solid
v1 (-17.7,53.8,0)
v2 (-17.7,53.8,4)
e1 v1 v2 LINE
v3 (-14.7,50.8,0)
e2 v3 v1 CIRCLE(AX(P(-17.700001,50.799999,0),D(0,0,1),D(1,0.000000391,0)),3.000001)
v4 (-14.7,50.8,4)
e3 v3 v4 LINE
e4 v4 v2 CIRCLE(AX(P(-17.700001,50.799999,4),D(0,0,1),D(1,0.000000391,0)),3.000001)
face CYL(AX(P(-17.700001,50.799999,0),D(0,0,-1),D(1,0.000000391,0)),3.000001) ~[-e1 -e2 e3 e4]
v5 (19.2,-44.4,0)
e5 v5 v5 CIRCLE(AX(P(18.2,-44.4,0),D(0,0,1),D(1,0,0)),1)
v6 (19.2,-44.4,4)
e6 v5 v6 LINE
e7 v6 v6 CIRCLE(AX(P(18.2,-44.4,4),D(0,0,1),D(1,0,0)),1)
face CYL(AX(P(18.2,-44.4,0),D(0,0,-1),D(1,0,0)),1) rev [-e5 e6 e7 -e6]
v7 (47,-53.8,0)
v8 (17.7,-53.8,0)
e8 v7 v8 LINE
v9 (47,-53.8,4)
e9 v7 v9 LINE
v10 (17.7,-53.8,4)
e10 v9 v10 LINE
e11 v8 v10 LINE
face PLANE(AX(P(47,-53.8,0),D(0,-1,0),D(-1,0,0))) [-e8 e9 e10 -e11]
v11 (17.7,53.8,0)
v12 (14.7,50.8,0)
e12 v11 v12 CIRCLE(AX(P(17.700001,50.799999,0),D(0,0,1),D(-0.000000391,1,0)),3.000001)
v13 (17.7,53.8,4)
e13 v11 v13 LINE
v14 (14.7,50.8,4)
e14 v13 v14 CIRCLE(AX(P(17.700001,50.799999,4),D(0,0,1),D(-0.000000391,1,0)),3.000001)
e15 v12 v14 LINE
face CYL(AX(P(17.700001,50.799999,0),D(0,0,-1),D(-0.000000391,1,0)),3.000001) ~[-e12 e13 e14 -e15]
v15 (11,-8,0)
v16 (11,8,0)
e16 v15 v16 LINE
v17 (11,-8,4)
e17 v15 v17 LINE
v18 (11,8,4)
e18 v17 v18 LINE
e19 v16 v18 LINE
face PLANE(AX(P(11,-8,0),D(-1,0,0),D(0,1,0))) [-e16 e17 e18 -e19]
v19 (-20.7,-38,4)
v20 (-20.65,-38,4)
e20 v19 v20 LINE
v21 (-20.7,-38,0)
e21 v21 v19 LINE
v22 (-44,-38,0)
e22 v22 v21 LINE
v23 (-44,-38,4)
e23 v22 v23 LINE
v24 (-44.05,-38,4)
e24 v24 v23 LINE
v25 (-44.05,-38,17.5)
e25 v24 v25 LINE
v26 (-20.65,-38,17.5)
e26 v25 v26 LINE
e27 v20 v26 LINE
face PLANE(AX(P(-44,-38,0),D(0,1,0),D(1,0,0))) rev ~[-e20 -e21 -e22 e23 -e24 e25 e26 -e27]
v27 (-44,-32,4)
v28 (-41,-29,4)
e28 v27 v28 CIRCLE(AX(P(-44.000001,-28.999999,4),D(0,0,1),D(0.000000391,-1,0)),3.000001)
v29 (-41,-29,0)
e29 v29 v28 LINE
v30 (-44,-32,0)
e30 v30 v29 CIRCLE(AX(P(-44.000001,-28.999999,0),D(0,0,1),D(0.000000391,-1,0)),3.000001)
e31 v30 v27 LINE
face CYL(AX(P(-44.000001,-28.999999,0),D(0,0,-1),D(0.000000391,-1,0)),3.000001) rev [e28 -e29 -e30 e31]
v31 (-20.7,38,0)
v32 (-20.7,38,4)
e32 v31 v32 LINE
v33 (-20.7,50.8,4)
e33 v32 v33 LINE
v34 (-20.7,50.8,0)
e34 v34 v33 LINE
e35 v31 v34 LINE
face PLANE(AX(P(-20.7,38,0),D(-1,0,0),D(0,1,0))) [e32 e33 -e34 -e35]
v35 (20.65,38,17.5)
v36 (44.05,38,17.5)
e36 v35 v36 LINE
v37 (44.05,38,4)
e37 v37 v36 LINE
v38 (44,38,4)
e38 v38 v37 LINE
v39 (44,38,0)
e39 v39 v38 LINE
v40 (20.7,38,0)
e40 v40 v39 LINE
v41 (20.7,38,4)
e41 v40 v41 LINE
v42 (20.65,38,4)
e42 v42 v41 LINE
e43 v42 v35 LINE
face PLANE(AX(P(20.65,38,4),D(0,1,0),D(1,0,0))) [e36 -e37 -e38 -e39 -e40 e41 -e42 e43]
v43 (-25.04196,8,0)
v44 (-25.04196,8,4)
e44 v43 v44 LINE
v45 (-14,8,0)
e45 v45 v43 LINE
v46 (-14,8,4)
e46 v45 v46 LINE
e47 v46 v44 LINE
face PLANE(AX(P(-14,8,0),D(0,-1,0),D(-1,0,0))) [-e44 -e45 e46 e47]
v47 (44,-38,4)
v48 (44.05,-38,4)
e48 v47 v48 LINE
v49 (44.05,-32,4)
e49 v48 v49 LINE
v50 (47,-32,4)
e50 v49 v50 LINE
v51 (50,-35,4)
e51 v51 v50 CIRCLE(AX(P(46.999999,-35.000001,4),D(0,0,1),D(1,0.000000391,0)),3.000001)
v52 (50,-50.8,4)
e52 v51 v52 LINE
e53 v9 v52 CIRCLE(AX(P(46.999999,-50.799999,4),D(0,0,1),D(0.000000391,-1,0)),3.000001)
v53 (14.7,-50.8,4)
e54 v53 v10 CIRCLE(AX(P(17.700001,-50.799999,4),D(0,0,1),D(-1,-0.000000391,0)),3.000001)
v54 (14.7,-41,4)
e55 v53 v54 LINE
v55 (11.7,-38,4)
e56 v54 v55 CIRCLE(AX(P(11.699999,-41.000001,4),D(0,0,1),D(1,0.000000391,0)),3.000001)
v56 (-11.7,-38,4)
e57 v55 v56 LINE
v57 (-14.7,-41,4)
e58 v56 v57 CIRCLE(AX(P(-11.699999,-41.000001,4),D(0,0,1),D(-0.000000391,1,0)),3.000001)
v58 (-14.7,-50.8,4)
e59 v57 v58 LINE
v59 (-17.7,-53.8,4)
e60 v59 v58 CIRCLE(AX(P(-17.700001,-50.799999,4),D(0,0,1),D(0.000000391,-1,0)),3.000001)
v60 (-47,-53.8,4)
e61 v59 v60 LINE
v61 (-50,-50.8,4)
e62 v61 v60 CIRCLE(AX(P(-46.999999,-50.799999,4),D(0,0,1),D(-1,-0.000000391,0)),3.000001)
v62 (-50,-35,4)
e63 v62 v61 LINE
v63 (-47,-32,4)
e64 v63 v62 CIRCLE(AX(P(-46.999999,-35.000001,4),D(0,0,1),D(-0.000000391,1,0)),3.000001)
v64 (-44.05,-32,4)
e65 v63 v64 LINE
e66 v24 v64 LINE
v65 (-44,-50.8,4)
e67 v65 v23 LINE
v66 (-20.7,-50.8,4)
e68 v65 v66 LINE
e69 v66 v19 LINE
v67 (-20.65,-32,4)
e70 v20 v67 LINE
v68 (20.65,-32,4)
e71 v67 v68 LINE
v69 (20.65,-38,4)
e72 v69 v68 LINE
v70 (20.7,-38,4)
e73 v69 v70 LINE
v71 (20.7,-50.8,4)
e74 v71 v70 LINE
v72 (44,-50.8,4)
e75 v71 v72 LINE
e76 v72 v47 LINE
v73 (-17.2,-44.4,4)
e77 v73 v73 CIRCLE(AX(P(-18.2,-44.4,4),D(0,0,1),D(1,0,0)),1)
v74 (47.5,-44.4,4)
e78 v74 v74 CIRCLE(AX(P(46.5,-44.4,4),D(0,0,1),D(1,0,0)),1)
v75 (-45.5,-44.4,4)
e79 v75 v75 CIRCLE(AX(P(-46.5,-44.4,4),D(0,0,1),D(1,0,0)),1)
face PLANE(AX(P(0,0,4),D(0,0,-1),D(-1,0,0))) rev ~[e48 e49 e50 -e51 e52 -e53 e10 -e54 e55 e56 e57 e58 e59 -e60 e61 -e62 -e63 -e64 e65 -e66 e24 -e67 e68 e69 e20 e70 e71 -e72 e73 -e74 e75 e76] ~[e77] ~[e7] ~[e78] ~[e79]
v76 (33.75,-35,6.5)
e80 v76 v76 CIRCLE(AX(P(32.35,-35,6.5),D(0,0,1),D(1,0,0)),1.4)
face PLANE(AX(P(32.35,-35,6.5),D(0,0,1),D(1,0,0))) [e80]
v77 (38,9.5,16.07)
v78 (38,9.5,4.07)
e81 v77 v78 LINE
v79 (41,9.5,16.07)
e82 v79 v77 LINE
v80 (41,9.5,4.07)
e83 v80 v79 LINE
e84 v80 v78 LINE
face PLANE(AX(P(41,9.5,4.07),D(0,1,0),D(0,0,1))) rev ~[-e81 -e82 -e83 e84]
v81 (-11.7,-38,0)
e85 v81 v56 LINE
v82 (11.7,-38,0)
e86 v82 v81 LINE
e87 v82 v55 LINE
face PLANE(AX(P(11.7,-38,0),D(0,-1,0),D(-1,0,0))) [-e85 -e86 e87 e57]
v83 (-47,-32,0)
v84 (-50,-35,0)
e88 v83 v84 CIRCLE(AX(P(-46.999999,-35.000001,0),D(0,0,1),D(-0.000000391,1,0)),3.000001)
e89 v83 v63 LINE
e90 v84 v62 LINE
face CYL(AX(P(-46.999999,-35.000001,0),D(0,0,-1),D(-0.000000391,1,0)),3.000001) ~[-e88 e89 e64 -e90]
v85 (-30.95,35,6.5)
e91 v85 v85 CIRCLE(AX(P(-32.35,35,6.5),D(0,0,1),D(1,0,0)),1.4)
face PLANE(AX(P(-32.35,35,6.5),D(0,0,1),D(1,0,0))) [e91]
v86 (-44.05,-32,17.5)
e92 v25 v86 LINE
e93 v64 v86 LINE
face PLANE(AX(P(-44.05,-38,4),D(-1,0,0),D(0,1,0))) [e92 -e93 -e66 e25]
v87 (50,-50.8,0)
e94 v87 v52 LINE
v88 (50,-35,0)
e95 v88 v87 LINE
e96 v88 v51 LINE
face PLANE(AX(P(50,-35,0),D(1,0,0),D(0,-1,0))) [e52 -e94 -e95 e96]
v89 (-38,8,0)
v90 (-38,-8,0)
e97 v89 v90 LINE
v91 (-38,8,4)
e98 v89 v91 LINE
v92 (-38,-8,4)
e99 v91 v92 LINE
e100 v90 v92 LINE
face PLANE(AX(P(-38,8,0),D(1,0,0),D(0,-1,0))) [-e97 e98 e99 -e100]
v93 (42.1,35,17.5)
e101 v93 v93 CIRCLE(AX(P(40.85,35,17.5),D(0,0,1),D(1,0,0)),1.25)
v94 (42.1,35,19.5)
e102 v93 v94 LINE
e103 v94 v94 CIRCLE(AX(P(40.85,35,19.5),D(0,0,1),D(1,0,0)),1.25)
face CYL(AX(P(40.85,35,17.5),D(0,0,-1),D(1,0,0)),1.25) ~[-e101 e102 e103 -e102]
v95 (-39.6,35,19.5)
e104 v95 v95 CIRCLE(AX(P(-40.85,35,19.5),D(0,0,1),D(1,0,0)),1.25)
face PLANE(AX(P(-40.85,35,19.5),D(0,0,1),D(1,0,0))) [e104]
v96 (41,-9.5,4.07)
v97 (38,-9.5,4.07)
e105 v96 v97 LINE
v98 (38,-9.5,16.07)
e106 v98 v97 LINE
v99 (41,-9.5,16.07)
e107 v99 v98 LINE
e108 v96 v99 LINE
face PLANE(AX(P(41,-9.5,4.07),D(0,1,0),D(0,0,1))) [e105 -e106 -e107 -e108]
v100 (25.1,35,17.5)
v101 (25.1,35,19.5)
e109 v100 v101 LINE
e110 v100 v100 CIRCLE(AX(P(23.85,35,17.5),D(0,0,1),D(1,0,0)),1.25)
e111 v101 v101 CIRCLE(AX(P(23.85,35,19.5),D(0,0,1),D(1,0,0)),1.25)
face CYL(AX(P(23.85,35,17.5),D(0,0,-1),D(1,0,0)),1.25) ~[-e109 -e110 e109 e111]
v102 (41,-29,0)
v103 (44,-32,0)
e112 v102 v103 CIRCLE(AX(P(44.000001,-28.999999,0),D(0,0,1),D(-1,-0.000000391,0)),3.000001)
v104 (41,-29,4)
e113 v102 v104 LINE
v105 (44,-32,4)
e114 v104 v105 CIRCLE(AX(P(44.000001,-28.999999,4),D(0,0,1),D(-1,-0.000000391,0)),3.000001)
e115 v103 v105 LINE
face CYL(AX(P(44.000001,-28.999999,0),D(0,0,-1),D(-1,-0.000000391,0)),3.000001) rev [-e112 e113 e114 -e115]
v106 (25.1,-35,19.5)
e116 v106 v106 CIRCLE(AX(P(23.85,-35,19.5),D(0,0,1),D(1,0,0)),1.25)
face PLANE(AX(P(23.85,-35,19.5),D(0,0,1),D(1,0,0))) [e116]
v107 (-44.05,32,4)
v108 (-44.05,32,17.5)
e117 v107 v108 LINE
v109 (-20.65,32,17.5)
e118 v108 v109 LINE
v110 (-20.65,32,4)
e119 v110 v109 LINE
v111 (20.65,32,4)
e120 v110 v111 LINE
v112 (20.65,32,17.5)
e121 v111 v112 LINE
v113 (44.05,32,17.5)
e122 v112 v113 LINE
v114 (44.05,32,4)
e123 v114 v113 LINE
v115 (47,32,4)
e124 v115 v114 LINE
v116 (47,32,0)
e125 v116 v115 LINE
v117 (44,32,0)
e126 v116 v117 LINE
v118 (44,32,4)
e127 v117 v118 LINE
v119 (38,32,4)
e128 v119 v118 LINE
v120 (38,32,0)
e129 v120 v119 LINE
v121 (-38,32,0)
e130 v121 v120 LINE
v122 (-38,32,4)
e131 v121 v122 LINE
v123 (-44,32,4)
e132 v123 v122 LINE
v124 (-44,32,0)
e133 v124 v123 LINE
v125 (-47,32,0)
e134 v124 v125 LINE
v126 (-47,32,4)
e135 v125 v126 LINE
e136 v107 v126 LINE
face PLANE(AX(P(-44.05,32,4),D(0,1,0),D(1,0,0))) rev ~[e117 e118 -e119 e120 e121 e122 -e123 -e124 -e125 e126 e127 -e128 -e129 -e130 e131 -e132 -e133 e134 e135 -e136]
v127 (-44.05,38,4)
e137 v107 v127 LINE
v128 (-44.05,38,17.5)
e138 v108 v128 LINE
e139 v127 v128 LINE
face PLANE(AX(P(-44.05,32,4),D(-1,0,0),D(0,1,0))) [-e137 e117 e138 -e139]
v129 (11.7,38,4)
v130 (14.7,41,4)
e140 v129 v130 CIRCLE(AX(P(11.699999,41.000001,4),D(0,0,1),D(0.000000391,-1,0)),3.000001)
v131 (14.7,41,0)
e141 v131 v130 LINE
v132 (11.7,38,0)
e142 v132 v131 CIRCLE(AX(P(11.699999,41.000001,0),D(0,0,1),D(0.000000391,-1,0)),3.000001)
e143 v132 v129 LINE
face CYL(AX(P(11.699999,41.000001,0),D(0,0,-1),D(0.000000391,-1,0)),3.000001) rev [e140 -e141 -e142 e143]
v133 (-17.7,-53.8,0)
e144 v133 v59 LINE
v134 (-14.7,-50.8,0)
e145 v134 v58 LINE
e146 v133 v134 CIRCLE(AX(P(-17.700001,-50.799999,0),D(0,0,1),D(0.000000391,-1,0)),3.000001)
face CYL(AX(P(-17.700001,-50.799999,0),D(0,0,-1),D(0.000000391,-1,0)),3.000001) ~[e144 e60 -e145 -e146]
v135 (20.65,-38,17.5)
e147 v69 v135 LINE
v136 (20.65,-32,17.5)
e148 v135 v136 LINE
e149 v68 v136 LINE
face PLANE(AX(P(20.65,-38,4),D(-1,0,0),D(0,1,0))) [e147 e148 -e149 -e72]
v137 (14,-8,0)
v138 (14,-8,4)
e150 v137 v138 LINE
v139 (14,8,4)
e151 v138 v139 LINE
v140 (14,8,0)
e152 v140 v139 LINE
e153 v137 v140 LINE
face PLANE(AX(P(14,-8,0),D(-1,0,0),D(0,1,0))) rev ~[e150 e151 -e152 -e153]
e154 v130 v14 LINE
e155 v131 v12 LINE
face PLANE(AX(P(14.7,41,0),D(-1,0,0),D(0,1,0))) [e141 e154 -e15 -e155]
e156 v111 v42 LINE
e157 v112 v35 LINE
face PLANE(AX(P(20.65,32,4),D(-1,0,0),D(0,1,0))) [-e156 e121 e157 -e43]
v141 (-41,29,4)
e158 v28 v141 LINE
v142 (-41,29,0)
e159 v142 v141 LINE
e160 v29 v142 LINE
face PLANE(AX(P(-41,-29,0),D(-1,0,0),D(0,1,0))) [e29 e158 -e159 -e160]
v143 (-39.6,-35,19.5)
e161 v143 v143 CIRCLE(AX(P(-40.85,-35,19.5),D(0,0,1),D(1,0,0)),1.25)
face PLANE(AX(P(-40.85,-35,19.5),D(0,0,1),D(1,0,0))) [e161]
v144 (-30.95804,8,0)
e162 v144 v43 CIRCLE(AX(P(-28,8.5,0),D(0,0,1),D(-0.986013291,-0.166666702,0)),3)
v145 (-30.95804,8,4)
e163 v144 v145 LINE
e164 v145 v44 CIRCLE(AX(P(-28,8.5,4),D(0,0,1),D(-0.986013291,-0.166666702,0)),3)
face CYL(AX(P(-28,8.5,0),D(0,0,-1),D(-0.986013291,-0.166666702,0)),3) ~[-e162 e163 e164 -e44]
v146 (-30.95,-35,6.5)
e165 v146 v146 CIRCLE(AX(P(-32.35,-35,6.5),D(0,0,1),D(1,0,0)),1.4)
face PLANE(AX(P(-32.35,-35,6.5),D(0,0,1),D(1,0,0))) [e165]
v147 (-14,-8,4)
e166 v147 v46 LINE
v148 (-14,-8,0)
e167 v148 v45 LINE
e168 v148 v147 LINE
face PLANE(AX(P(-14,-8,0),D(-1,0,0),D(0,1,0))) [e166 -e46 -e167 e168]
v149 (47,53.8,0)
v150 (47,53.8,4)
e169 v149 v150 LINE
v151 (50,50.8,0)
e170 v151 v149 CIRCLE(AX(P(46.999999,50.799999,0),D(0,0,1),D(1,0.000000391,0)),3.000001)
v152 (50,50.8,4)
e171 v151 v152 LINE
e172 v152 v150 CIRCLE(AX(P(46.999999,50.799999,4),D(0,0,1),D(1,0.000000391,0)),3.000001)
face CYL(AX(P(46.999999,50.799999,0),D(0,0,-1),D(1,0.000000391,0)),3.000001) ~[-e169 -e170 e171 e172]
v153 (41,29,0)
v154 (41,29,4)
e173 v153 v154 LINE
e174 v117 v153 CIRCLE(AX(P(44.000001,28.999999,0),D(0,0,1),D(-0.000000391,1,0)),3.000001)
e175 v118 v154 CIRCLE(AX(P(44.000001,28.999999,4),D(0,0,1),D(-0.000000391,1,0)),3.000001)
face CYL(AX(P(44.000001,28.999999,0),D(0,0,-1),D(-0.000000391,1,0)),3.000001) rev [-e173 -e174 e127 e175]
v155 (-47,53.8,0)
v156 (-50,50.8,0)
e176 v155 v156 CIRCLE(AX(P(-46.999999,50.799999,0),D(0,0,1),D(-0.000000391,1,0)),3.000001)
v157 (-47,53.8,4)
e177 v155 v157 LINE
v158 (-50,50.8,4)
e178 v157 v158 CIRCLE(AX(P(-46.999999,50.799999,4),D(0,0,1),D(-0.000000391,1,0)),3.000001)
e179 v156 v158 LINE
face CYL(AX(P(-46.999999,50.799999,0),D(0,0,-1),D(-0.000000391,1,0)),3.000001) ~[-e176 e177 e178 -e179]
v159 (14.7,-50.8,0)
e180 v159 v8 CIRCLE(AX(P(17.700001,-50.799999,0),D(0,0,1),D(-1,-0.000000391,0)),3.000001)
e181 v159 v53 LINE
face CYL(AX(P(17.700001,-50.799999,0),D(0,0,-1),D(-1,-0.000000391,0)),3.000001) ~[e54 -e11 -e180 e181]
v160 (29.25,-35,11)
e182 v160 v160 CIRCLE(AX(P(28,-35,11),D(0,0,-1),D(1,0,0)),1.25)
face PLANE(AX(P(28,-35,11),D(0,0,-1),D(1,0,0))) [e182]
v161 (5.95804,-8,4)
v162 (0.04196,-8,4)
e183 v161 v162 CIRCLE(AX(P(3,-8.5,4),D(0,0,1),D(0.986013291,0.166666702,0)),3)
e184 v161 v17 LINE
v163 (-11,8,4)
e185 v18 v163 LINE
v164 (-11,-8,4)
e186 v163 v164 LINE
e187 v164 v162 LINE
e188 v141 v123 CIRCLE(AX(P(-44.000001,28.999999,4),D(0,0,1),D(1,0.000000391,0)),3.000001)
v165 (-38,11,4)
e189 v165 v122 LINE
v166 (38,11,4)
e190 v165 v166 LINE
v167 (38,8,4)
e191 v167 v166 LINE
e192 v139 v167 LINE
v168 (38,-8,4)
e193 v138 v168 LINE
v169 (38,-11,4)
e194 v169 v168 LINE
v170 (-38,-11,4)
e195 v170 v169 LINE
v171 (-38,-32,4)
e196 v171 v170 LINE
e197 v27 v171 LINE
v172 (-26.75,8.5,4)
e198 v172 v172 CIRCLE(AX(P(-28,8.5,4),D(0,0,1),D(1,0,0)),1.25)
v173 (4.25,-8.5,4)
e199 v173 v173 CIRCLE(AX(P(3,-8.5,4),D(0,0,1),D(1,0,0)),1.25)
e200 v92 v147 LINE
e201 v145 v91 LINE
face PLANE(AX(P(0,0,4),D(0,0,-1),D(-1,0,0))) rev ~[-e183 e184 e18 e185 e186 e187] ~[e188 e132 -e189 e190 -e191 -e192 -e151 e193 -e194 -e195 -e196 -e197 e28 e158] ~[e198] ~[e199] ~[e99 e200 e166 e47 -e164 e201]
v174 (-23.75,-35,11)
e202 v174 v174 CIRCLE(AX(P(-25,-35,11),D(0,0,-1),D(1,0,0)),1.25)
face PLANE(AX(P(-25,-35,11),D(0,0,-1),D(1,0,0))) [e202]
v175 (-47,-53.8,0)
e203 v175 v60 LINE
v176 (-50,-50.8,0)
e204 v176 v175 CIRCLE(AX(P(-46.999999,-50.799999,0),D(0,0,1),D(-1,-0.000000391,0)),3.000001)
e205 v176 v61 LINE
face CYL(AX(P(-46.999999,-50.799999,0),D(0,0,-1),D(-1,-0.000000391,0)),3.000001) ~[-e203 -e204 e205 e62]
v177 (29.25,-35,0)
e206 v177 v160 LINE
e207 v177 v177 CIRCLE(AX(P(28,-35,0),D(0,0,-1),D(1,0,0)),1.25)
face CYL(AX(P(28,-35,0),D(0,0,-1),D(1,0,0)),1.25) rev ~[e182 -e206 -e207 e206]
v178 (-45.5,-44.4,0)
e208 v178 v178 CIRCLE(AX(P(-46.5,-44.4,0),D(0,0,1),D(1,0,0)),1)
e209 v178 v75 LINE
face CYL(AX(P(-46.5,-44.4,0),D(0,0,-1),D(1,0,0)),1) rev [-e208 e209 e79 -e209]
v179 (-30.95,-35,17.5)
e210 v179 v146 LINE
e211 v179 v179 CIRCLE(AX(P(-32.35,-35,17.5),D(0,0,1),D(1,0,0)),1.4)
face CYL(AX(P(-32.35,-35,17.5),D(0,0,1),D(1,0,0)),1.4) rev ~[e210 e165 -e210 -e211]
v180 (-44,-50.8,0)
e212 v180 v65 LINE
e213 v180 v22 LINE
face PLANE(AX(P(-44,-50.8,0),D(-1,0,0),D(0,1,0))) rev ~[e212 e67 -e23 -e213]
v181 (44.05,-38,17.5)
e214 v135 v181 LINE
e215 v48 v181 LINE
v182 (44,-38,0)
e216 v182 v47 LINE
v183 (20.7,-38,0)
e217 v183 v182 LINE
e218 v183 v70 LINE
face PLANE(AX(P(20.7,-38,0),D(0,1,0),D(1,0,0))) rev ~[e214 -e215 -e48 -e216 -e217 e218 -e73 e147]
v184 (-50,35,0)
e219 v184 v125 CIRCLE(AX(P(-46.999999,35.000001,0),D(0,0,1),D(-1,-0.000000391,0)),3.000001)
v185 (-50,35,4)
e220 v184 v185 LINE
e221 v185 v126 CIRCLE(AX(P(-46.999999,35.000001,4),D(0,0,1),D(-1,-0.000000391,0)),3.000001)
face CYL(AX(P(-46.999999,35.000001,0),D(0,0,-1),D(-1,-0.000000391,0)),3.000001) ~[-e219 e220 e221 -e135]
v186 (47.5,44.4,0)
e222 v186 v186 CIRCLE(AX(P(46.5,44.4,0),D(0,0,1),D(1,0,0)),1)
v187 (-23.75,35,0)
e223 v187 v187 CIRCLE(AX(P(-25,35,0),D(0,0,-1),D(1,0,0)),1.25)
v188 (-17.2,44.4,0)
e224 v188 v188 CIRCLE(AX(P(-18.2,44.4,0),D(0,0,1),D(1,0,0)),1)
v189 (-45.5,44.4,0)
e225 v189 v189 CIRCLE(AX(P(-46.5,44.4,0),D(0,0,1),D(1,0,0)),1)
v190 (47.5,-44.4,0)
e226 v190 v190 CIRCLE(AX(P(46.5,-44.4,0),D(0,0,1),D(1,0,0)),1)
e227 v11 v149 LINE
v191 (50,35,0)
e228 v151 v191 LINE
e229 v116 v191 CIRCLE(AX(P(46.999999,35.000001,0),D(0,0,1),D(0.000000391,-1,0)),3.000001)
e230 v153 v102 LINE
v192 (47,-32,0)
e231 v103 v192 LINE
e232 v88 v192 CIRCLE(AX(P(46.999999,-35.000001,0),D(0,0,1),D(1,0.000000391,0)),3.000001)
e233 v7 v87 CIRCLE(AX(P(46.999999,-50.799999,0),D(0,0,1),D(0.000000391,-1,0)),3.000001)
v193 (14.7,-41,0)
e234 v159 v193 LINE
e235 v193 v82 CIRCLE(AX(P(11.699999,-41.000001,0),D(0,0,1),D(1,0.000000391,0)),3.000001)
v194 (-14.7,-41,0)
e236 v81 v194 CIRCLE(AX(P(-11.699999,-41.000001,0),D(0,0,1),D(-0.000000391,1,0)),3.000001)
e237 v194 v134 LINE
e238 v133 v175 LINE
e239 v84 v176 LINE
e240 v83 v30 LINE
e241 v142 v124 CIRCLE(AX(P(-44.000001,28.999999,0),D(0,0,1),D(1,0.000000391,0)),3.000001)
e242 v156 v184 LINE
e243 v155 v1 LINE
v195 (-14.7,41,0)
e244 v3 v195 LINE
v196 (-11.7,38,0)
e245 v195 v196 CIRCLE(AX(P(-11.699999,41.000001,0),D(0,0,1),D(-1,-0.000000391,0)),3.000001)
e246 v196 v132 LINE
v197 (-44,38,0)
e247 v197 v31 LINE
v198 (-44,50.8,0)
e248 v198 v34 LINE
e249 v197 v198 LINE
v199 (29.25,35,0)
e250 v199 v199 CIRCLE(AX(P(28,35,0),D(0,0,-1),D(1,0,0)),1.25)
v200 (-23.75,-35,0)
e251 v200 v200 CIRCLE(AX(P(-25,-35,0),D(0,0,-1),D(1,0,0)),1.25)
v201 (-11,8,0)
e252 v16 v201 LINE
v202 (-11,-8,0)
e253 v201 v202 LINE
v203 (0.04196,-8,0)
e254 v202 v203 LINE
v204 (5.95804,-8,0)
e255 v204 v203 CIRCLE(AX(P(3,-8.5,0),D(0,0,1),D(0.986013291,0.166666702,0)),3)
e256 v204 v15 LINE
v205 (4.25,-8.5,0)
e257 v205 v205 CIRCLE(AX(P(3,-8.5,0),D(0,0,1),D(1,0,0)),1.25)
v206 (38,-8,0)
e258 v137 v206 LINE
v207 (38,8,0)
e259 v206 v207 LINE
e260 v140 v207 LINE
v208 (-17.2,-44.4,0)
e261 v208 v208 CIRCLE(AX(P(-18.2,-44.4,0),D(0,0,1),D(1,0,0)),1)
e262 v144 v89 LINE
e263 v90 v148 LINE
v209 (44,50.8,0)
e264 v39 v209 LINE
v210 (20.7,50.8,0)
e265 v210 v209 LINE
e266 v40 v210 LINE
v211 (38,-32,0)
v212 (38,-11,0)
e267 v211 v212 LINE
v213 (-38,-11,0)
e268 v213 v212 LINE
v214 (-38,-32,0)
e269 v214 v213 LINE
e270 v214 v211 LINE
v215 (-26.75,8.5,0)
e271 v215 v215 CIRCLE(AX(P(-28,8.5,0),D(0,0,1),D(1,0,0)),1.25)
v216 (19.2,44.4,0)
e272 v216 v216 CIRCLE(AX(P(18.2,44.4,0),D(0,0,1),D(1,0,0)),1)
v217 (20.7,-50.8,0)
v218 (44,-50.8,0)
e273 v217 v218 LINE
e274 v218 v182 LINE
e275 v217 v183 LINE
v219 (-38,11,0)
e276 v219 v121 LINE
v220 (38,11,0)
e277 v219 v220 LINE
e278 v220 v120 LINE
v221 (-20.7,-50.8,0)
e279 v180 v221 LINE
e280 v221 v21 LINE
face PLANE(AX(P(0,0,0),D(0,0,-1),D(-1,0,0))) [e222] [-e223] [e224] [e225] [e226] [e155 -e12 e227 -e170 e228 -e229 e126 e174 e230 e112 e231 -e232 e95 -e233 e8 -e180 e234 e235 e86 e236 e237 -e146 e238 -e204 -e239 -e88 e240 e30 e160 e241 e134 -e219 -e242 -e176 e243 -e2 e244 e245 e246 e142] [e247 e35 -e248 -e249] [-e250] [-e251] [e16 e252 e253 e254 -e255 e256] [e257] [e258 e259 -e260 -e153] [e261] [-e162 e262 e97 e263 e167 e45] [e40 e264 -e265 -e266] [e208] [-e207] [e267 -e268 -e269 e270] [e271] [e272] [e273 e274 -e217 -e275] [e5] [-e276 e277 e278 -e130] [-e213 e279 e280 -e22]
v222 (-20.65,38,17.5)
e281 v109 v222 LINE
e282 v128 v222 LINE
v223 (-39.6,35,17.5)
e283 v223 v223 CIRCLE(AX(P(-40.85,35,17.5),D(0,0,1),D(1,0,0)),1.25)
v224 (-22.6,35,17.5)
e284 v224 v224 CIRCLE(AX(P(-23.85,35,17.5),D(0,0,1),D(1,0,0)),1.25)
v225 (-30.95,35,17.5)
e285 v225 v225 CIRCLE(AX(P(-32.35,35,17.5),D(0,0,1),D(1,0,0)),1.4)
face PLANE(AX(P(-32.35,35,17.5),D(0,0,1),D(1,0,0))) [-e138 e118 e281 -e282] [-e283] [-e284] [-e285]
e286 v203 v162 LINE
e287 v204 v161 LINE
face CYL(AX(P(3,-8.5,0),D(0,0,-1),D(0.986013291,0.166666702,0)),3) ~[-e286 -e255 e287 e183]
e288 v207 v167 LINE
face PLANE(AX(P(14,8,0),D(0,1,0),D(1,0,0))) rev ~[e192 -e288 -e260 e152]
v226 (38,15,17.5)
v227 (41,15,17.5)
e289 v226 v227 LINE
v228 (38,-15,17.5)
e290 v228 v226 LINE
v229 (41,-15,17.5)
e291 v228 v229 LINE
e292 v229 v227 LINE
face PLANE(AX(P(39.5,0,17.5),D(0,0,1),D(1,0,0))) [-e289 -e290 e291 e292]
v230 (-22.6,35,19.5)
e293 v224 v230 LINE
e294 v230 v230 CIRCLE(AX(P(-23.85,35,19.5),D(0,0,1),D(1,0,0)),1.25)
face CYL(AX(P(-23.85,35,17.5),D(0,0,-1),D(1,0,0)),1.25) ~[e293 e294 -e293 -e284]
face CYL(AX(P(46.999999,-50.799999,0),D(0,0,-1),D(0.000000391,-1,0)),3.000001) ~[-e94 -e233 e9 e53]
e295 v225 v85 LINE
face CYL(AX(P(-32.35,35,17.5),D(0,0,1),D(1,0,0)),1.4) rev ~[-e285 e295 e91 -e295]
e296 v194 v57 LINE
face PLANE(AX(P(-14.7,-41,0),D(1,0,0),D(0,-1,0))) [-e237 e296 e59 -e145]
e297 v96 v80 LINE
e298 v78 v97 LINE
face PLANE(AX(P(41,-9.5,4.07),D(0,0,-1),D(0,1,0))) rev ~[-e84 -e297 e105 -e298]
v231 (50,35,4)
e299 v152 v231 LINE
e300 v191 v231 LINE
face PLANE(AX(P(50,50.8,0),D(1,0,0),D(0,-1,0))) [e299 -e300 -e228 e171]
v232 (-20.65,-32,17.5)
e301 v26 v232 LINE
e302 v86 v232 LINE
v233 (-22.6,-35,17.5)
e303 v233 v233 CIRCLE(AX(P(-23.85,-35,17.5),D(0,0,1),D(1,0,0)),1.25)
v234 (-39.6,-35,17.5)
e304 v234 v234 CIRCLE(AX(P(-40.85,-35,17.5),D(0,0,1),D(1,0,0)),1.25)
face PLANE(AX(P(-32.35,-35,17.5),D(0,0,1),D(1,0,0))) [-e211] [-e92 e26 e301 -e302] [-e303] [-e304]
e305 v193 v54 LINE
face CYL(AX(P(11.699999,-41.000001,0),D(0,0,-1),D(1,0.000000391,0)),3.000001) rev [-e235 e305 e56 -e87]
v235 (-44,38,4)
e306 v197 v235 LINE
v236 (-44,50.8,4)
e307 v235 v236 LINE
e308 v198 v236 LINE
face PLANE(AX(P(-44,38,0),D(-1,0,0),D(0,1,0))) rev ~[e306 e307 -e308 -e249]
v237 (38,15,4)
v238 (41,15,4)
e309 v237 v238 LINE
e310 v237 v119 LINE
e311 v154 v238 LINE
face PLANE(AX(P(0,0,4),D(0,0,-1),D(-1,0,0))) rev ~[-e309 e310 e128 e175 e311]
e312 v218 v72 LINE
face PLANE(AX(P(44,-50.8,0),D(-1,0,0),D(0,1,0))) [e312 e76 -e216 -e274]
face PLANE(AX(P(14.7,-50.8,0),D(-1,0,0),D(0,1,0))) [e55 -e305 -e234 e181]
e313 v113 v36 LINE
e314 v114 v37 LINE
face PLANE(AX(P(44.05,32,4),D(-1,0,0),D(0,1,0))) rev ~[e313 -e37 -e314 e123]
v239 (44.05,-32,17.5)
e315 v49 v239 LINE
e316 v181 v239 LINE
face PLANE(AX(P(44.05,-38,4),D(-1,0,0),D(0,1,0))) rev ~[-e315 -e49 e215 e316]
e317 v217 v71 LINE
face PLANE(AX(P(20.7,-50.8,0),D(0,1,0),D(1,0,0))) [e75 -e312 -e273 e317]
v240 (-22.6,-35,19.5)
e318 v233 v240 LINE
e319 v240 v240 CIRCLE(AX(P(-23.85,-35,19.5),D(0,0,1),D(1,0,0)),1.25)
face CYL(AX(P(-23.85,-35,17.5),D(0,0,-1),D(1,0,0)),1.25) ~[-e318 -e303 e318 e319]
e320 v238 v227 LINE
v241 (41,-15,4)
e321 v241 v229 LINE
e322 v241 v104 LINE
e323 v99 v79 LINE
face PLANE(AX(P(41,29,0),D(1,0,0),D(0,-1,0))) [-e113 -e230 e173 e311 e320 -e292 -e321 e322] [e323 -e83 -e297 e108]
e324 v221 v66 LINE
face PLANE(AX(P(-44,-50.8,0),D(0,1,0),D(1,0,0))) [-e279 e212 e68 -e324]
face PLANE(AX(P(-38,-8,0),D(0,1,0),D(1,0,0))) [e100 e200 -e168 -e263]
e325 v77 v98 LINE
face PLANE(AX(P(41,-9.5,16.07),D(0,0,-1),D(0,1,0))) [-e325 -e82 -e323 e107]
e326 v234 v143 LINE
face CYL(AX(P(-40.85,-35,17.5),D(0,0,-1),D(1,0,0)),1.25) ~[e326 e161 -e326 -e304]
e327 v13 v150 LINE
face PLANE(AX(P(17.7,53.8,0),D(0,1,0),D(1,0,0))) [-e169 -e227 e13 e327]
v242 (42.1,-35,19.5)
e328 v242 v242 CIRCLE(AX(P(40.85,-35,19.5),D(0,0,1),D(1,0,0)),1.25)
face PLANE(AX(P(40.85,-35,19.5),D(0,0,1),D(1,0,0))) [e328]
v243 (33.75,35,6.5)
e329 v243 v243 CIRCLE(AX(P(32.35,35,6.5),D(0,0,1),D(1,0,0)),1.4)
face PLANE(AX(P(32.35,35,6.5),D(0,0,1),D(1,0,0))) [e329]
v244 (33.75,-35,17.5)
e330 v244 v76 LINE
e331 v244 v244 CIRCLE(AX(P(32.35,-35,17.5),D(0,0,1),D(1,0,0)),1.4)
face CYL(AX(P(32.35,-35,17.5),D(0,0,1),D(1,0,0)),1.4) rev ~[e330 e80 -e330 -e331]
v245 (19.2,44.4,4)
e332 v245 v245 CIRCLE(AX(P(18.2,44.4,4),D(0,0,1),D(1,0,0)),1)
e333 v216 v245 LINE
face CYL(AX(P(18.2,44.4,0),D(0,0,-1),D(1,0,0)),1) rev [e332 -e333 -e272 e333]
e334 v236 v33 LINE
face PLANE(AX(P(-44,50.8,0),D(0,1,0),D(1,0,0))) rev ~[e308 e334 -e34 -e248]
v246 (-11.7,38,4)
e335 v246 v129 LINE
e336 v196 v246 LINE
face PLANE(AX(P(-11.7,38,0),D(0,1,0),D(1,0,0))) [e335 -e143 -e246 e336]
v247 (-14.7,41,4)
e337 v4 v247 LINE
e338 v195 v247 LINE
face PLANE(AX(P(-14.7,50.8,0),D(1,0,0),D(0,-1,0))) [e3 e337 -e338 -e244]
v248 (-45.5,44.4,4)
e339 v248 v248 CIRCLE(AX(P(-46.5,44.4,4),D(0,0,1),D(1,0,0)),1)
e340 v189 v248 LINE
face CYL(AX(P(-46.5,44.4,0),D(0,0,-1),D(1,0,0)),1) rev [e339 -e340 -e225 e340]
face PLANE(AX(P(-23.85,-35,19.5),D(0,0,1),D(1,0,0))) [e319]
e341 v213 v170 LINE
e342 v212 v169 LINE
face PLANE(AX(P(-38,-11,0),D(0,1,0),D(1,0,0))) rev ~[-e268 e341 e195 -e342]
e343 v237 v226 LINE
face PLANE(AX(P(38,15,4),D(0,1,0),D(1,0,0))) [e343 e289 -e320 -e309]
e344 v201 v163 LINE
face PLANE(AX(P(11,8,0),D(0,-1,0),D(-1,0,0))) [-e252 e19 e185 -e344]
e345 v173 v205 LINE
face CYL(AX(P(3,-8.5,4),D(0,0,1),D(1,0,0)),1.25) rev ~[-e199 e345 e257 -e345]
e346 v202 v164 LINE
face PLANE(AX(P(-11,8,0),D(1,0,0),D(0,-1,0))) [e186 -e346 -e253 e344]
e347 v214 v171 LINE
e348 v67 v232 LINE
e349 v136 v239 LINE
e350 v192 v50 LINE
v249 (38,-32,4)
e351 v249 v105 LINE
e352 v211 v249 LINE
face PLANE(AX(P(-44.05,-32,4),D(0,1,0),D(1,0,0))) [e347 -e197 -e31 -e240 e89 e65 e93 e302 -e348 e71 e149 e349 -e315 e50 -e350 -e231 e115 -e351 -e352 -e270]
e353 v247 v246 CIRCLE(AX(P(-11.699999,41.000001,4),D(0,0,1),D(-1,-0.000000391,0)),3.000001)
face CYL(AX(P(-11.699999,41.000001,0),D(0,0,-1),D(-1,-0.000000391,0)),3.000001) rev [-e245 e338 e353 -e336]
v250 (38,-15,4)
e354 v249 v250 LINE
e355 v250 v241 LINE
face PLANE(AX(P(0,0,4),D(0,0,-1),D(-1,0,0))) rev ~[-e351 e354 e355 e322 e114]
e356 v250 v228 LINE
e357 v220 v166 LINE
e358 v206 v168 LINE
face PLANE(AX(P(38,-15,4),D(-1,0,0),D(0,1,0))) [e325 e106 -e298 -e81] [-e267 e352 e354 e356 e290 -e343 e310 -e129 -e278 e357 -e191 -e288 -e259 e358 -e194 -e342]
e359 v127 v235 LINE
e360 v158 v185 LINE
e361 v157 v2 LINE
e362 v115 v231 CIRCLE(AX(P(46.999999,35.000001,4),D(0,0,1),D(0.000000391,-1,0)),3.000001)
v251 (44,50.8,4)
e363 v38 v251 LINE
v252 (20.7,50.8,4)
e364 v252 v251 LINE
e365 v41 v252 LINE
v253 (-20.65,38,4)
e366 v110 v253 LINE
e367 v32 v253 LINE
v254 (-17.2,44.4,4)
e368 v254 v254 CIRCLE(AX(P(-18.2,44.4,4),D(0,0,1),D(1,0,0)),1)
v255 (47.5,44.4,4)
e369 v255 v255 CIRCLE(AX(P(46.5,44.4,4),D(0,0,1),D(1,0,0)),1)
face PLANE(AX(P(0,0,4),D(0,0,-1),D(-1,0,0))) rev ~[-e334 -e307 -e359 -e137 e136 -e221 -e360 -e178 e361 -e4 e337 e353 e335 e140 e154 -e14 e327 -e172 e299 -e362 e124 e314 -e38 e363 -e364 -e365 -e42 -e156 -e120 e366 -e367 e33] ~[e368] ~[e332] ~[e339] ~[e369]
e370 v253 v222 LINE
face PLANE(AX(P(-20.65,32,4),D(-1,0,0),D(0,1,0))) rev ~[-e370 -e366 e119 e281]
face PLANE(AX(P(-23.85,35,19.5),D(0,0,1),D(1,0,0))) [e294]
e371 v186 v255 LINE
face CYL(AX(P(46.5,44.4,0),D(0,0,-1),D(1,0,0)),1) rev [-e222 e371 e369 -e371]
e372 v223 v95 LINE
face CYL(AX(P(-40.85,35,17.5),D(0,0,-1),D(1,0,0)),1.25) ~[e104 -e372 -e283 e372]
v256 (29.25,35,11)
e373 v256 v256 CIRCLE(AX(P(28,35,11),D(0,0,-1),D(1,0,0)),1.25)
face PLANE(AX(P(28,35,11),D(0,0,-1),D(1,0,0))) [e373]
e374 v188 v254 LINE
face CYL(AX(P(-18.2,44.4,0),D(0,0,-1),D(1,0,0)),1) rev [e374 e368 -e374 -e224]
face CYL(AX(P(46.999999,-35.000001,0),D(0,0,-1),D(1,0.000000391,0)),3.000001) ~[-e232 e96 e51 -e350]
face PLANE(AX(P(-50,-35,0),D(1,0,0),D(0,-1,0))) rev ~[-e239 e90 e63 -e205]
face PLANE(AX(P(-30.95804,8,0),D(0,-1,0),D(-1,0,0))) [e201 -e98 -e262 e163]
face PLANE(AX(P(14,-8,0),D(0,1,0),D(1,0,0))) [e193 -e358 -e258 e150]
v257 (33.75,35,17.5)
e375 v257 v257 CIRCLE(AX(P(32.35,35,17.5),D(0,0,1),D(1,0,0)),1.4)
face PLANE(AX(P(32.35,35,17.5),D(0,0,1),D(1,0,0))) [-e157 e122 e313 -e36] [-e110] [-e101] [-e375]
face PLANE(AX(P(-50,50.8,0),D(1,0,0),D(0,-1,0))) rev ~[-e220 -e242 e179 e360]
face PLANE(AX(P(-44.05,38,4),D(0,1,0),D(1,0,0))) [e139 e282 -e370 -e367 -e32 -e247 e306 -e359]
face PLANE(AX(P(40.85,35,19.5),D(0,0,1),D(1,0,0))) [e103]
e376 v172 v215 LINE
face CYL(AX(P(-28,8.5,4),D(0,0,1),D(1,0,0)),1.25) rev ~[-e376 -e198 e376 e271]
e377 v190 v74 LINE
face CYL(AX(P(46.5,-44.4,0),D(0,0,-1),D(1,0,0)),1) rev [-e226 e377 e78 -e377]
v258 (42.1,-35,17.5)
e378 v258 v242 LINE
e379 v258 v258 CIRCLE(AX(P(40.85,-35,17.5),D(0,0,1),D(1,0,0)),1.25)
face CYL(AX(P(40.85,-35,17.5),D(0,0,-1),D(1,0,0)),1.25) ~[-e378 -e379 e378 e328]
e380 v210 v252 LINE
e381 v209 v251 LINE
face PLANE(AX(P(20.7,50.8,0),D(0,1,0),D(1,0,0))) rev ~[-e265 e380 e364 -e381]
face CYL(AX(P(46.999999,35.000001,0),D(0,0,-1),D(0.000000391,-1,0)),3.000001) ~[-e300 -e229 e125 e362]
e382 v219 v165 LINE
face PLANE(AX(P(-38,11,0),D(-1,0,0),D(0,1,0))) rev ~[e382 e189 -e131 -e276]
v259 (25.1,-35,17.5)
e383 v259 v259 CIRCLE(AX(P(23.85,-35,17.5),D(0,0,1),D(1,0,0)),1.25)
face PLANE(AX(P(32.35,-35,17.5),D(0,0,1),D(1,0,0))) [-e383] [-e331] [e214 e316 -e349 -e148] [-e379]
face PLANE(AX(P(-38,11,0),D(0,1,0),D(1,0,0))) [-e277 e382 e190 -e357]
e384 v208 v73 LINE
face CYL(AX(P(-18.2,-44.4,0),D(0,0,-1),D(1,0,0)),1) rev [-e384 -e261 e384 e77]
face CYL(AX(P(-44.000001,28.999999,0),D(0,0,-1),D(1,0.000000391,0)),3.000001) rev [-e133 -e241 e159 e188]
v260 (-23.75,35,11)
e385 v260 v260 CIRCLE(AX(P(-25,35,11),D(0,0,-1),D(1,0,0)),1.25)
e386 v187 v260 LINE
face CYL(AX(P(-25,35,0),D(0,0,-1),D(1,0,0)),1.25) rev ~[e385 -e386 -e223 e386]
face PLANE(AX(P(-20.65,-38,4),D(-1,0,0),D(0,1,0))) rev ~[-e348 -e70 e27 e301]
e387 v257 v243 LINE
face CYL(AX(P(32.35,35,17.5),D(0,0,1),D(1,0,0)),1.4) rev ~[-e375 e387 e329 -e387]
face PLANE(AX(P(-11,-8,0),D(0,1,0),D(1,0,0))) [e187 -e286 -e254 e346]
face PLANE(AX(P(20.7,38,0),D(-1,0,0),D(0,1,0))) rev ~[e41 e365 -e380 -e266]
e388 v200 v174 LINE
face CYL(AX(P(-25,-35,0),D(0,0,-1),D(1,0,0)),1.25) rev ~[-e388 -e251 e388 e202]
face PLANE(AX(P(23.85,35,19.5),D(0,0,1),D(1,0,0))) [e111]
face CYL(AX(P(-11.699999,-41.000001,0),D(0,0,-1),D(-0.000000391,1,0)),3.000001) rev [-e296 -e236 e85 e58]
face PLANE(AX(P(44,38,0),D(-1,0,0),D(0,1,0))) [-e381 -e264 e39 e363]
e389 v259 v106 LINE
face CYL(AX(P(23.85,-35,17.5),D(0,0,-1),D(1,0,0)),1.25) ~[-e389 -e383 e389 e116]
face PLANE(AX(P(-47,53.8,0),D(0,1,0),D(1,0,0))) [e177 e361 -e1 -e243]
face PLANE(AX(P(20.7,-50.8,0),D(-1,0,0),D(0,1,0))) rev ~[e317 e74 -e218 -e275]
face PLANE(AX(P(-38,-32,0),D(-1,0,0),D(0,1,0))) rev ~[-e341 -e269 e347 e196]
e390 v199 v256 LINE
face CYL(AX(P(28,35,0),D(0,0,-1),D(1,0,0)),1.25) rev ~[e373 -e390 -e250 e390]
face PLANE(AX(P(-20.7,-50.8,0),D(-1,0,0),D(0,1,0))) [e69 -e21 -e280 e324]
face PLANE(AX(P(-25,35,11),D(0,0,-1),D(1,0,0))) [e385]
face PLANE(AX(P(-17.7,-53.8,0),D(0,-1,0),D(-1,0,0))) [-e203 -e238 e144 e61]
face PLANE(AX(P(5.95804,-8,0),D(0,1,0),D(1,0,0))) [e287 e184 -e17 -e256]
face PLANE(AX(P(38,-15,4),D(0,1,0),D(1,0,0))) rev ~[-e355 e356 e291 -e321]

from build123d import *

# Parameters (mm, degrees)
SKETCH_R        = 1
SKETCH_W        = 23.3
SKETCH_H        = 12.8
SKETCH_W_2      = 76
SKETCH_H_2      = 21
SKETCH_W_3      = 24
SKETCH_H_3      = 16
PAD_DEPTH       = 4
SKETCH005_R     = 1.25
POCKET001_DEPTH = 5
SKETCH002_W     = 23.4
SKETCH002_H     = 6
SKETCH002_W_2   = 3
SKETCH002_H_2   = 30
PAD001_DEPTH    = 13.5
SKETCH008_R     = 1.4
POCKET_DEPTH    = 11
SKETCH007_R     = 1.25
PAD002_DEPTH    = 2
SKETCH004_W     = 19
SKETCH004_H     = 12
POCKET002_DEPTH = 5
SKETCH009_R     = 1.25
POCKET003_DEPTH = 11


with BuildPart() as part:
    # Sketch → Pad (new body)
    with BuildSketch(Plane.XY):
        with BuildLine():
            Line((-11.7, 38), (11.7, 38))
            ThreePointArc((11.7, 38), (13.82132, 38.87868), (14.7, 41))
            Line((14.7, 41), (14.7, 50.8))
            ThreePointArc((17.7, 53.8), (15.57868, 52.92132), (14.7, 50.8))
            Line((17.7, 53.8), (47, 53.8))
            ThreePointArc((50, 50.8), (49.12132, 52.92132), (47, 53.8))
            Line((50, 50.8), (50, 35))
            ThreePointArc((47, 32), (49.12132, 32.87868), (50, 35))
            Line((47, 32), (44, 32))
            ThreePointArc((44, 32), (41.87868, 31.12132), (41, 29))
            Line((41, 29), (41, -29))
            ThreePointArc((41, -29), (41.87868, -31.12132), (44, -32))
            Line((44, -32), (47, -32))
            ThreePointArc((50, -35), (49.12132, -32.87868), (47, -32))
            Line((50, -35), (50, -50.8))
            ThreePointArc((47, -53.8), (49.12132, -52.92132), (50, -50.8))
            Line((47, -53.8), (17.7, -53.8))
            ThreePointArc((14.7, -50.8), (15.57868, -52.92132), (17.7, -53.8))
            Line((14.7, -50.8), (14.7, -41))
            ThreePointArc((14.7, -41), (13.82132, -38.87868), (11.7, -38))
            Line((11.7, -38), (-11.7, -38))
            ThreePointArc((-11.7, -38), (-13.82132, -38.87868), (-14.7, -41))
            Line((-14.7, -41), (-14.7, -50.8))
            ThreePointArc((-17.7, -53.8), (-15.57868, -52.92132), (-14.7, -50.8))
            Line((-17.7, -53.8), (-47, -53.8))
            ThreePointArc((-50, -50.8), (-49.12132, -52.92132), (-47, -53.8))
            Line((-50, -35), (-50, -50.8))
            ThreePointArc((-47, -32), (-49.12132, -32.87868), (-50, -35))
            Line((-47, -32), (-44, -32))
            ThreePointArc((-44, -32), (-41.87868, -31.12132), (-41, -29))
            Line((-41, -29), (-41, 29))
            ThreePointArc((-41, 29), (-41.87868, 31.12132), (-44, 32))
            Line((-44, 32), (-47, 32))
            ThreePointArc((-50, 35), (-49.12132, 32.87868), (-47, 32))
            Line((-50, 50.8), (-50, 35))
            ThreePointArc((-47, 53.8), (-49.12132, 52.92132), (-50, 50.8))
            Line((-47, 53.8), (-17.7, 53.8))
            ThreePointArc((-14.7, 50.8), (-15.57868, 52.92132), (-17.7, 53.8))
            Line((-14.7, 50.8), (-14.7, 41))
            ThreePointArc((-14.7, 41), (-13.82132, 38.87868), (-11.7, 38))
        make_face()
        with Locations((-46.5, 44.4)):
            Circle(SKETCH_R, mode=Mode.SUBTRACT)
        with Locations((-18.2, 44.4)):
            Circle(SKETCH_R, mode=Mode.SUBTRACT)
        with Locations((18.2, 44.4)):
            Circle(SKETCH_R, mode=Mode.SUBTRACT)
        with Locations((46.5, 44.4)):
            Circle(SKETCH_R, mode=Mode.SUBTRACT)
        with Locations((-46.5, -44.4)):
            Circle(SKETCH_R, mode=Mode.SUBTRACT)
        with Locations((-18.2, -44.4)):
            Circle(SKETCH_R, mode=Mode.SUBTRACT)
        with Locations((18.2, -44.4)):
            Circle(SKETCH_R, mode=Mode.SUBTRACT)
        with Locations((46.5, -44.4)):
            Circle(SKETCH_R, mode=Mode.SUBTRACT)
        with Locations((-32.35, 44.4)):
            Rectangle(SKETCH_W, SKETCH_H, mode=Mode.SUBTRACT)
        with Locations((32.35, 44.4)):
            Rectangle(SKETCH_W, SKETCH_H, mode=Mode.SUBTRACT)
        with Locations((32.35, -44.4)):
            Rectangle(SKETCH_W, SKETCH_H, mode=Mode.SUBTRACT)
        with Locations((-32.35, -44.4)):
            Rectangle(SKETCH_W, SKETCH_H, mode=Mode.SUBTRACT)
        with Locations((0, 21.5)):
            Rectangle(SKETCH_W_2, SKETCH_H_2, mode=Mode.SUBTRACT)
        with Locations((0, -21.5)):
            Rectangle(SKETCH_W_2, SKETCH_H_2, mode=Mode.SUBTRACT)
        with Locations((26, 0)):
            Rectangle(SKETCH_W_3, SKETCH_H_3, mode=Mode.SUBTRACT)
        with BuildLine():
            Line((-38, 8), (-38, -8))
            Line((-38, -8), (-14, -8))
            Line((-14, -8), (-14, 8))
            Line((-14, 8), (-25.04196, 8))
            ThreePointArc((-30.95804, 8), (-28, 5.5), (-25.04196, 8))
            Line((-30.95804, 8), (-38, 8))
        make_face(mode=Mode.SUBTRACT)
        with BuildLine():
            ThreePointArc((5.95804, -8), (3, -5.5), (0.04196, -8))
            Line((-11, -8), (0.04196, -8))
            Line((-11, 8), (-11, -8))
            Line((11, 8), (-11, 8))
            Line((11, -8), (11, 8))
            Line((5.95804, -8), (11, -8))
        make_face(mode=Mode.SUBTRACT)
    extrude(amount=PAD_DEPTH)

    # Sketch005 → Pocket001 (cut)
    with BuildSketch(Plane.XY.offset(4)):
        with Locations((3, -8.5)):
            Circle(SKETCH005_R)
        with Locations((-28, 8.5)):
            Circle(SKETCH005_R)
    extrude(amount=-POCKET001_DEPTH, mode=Mode.SUBTRACT)

    # Sketch002 (on Face5 of Pocket001) → Pad001 (join)
    with BuildSketch(Plane.XY.offset(4)):
        with Locations((-32.35, 35)):
            Rectangle(SKETCH002_W, SKETCH002_H)
        with Locations((32.35, 35)):
            Rectangle(SKETCH002_W, SKETCH002_H)
        with Locations((-32.35, -35)):
            Rectangle(SKETCH002_W, SKETCH002_H)
        with Locations((32.35, -35)):
            Rectangle(SKETCH002_W, SKETCH002_H)
        with Locations((39.5, 0)):
            Rectangle(SKETCH002_W_2, SKETCH002_H_2)
    extrude(amount=PAD001_DEPTH)

    # Sketch008 → Pocket (cut)
    with BuildSketch(Plane.XY.offset(17.5)):
        with Locations((-32.35, 35)):
            Circle(SKETCH008_R)
        with Locations((32.35, 35)):
            Circle(SKETCH008_R)
        with Locations((-32.35, -35)):
            Circle(SKETCH008_R)
        with Locations((32.35, -35)):
            Circle(SKETCH008_R)
    extrude(amount=-POCKET_DEPTH, mode=Mode.SUBTRACT)

    # Sketch007 (on Face112 of Pocket) → Pad002 (join)
    with BuildSketch(Plane.XY.offset(17.5)):
        with Locations((-40.85, 35)):
            Circle(SKETCH007_R)
        with Locations((-23.85, 35)):
            Circle(SKETCH007_R)
        with Locations((23.85, 35)):
            Circle(SKETCH007_R)
        with Locations((40.85, 35)):
            Circle(SKETCH007_R)
        with Locations((-40.85, -35)):
            Circle(SKETCH007_R)
        with Locations((-23.85, -35)):
            Circle(SKETCH007_R)
        with Locations((23.85, -35)):
            Circle(SKETCH007_R)
        with Locations((40.85, -35)):
            Circle(SKETCH007_R)
    extrude(amount=PAD002_DEPTH)

    # Sketch004 (on Face105 of Pad002) → Pocket002 (cut)
    with BuildSketch(Plane.YZ.offset(41)):
        with Locations((0, 10.07)):
            Rectangle(SKETCH004_W, SKETCH004_H)
    extrude(amount=-POCKET002_DEPTH, mode=Mode.SUBTRACT)

    # Sketch009 (on Face4 of Pocket002) → Pocket003 (cut)
    with BuildSketch(Plane(origin=(0, 0, 0), x_dir=(1, 0, 0), z_dir=(0, 0, -1))):
        with Locations((28, 35)):
            Circle(SKETCH009_R)
        with Locations((-25, 35)):
            Circle(SKETCH009_R)
        with Locations((-25, -35)):
            Circle(SKETCH009_R)
        with Locations((28, -35)):
            Circle(SKETCH009_R)
    extrude(amount=-POCKET003_DEPTH, mode=Mode.SUBTRACT)


solid = part.part
